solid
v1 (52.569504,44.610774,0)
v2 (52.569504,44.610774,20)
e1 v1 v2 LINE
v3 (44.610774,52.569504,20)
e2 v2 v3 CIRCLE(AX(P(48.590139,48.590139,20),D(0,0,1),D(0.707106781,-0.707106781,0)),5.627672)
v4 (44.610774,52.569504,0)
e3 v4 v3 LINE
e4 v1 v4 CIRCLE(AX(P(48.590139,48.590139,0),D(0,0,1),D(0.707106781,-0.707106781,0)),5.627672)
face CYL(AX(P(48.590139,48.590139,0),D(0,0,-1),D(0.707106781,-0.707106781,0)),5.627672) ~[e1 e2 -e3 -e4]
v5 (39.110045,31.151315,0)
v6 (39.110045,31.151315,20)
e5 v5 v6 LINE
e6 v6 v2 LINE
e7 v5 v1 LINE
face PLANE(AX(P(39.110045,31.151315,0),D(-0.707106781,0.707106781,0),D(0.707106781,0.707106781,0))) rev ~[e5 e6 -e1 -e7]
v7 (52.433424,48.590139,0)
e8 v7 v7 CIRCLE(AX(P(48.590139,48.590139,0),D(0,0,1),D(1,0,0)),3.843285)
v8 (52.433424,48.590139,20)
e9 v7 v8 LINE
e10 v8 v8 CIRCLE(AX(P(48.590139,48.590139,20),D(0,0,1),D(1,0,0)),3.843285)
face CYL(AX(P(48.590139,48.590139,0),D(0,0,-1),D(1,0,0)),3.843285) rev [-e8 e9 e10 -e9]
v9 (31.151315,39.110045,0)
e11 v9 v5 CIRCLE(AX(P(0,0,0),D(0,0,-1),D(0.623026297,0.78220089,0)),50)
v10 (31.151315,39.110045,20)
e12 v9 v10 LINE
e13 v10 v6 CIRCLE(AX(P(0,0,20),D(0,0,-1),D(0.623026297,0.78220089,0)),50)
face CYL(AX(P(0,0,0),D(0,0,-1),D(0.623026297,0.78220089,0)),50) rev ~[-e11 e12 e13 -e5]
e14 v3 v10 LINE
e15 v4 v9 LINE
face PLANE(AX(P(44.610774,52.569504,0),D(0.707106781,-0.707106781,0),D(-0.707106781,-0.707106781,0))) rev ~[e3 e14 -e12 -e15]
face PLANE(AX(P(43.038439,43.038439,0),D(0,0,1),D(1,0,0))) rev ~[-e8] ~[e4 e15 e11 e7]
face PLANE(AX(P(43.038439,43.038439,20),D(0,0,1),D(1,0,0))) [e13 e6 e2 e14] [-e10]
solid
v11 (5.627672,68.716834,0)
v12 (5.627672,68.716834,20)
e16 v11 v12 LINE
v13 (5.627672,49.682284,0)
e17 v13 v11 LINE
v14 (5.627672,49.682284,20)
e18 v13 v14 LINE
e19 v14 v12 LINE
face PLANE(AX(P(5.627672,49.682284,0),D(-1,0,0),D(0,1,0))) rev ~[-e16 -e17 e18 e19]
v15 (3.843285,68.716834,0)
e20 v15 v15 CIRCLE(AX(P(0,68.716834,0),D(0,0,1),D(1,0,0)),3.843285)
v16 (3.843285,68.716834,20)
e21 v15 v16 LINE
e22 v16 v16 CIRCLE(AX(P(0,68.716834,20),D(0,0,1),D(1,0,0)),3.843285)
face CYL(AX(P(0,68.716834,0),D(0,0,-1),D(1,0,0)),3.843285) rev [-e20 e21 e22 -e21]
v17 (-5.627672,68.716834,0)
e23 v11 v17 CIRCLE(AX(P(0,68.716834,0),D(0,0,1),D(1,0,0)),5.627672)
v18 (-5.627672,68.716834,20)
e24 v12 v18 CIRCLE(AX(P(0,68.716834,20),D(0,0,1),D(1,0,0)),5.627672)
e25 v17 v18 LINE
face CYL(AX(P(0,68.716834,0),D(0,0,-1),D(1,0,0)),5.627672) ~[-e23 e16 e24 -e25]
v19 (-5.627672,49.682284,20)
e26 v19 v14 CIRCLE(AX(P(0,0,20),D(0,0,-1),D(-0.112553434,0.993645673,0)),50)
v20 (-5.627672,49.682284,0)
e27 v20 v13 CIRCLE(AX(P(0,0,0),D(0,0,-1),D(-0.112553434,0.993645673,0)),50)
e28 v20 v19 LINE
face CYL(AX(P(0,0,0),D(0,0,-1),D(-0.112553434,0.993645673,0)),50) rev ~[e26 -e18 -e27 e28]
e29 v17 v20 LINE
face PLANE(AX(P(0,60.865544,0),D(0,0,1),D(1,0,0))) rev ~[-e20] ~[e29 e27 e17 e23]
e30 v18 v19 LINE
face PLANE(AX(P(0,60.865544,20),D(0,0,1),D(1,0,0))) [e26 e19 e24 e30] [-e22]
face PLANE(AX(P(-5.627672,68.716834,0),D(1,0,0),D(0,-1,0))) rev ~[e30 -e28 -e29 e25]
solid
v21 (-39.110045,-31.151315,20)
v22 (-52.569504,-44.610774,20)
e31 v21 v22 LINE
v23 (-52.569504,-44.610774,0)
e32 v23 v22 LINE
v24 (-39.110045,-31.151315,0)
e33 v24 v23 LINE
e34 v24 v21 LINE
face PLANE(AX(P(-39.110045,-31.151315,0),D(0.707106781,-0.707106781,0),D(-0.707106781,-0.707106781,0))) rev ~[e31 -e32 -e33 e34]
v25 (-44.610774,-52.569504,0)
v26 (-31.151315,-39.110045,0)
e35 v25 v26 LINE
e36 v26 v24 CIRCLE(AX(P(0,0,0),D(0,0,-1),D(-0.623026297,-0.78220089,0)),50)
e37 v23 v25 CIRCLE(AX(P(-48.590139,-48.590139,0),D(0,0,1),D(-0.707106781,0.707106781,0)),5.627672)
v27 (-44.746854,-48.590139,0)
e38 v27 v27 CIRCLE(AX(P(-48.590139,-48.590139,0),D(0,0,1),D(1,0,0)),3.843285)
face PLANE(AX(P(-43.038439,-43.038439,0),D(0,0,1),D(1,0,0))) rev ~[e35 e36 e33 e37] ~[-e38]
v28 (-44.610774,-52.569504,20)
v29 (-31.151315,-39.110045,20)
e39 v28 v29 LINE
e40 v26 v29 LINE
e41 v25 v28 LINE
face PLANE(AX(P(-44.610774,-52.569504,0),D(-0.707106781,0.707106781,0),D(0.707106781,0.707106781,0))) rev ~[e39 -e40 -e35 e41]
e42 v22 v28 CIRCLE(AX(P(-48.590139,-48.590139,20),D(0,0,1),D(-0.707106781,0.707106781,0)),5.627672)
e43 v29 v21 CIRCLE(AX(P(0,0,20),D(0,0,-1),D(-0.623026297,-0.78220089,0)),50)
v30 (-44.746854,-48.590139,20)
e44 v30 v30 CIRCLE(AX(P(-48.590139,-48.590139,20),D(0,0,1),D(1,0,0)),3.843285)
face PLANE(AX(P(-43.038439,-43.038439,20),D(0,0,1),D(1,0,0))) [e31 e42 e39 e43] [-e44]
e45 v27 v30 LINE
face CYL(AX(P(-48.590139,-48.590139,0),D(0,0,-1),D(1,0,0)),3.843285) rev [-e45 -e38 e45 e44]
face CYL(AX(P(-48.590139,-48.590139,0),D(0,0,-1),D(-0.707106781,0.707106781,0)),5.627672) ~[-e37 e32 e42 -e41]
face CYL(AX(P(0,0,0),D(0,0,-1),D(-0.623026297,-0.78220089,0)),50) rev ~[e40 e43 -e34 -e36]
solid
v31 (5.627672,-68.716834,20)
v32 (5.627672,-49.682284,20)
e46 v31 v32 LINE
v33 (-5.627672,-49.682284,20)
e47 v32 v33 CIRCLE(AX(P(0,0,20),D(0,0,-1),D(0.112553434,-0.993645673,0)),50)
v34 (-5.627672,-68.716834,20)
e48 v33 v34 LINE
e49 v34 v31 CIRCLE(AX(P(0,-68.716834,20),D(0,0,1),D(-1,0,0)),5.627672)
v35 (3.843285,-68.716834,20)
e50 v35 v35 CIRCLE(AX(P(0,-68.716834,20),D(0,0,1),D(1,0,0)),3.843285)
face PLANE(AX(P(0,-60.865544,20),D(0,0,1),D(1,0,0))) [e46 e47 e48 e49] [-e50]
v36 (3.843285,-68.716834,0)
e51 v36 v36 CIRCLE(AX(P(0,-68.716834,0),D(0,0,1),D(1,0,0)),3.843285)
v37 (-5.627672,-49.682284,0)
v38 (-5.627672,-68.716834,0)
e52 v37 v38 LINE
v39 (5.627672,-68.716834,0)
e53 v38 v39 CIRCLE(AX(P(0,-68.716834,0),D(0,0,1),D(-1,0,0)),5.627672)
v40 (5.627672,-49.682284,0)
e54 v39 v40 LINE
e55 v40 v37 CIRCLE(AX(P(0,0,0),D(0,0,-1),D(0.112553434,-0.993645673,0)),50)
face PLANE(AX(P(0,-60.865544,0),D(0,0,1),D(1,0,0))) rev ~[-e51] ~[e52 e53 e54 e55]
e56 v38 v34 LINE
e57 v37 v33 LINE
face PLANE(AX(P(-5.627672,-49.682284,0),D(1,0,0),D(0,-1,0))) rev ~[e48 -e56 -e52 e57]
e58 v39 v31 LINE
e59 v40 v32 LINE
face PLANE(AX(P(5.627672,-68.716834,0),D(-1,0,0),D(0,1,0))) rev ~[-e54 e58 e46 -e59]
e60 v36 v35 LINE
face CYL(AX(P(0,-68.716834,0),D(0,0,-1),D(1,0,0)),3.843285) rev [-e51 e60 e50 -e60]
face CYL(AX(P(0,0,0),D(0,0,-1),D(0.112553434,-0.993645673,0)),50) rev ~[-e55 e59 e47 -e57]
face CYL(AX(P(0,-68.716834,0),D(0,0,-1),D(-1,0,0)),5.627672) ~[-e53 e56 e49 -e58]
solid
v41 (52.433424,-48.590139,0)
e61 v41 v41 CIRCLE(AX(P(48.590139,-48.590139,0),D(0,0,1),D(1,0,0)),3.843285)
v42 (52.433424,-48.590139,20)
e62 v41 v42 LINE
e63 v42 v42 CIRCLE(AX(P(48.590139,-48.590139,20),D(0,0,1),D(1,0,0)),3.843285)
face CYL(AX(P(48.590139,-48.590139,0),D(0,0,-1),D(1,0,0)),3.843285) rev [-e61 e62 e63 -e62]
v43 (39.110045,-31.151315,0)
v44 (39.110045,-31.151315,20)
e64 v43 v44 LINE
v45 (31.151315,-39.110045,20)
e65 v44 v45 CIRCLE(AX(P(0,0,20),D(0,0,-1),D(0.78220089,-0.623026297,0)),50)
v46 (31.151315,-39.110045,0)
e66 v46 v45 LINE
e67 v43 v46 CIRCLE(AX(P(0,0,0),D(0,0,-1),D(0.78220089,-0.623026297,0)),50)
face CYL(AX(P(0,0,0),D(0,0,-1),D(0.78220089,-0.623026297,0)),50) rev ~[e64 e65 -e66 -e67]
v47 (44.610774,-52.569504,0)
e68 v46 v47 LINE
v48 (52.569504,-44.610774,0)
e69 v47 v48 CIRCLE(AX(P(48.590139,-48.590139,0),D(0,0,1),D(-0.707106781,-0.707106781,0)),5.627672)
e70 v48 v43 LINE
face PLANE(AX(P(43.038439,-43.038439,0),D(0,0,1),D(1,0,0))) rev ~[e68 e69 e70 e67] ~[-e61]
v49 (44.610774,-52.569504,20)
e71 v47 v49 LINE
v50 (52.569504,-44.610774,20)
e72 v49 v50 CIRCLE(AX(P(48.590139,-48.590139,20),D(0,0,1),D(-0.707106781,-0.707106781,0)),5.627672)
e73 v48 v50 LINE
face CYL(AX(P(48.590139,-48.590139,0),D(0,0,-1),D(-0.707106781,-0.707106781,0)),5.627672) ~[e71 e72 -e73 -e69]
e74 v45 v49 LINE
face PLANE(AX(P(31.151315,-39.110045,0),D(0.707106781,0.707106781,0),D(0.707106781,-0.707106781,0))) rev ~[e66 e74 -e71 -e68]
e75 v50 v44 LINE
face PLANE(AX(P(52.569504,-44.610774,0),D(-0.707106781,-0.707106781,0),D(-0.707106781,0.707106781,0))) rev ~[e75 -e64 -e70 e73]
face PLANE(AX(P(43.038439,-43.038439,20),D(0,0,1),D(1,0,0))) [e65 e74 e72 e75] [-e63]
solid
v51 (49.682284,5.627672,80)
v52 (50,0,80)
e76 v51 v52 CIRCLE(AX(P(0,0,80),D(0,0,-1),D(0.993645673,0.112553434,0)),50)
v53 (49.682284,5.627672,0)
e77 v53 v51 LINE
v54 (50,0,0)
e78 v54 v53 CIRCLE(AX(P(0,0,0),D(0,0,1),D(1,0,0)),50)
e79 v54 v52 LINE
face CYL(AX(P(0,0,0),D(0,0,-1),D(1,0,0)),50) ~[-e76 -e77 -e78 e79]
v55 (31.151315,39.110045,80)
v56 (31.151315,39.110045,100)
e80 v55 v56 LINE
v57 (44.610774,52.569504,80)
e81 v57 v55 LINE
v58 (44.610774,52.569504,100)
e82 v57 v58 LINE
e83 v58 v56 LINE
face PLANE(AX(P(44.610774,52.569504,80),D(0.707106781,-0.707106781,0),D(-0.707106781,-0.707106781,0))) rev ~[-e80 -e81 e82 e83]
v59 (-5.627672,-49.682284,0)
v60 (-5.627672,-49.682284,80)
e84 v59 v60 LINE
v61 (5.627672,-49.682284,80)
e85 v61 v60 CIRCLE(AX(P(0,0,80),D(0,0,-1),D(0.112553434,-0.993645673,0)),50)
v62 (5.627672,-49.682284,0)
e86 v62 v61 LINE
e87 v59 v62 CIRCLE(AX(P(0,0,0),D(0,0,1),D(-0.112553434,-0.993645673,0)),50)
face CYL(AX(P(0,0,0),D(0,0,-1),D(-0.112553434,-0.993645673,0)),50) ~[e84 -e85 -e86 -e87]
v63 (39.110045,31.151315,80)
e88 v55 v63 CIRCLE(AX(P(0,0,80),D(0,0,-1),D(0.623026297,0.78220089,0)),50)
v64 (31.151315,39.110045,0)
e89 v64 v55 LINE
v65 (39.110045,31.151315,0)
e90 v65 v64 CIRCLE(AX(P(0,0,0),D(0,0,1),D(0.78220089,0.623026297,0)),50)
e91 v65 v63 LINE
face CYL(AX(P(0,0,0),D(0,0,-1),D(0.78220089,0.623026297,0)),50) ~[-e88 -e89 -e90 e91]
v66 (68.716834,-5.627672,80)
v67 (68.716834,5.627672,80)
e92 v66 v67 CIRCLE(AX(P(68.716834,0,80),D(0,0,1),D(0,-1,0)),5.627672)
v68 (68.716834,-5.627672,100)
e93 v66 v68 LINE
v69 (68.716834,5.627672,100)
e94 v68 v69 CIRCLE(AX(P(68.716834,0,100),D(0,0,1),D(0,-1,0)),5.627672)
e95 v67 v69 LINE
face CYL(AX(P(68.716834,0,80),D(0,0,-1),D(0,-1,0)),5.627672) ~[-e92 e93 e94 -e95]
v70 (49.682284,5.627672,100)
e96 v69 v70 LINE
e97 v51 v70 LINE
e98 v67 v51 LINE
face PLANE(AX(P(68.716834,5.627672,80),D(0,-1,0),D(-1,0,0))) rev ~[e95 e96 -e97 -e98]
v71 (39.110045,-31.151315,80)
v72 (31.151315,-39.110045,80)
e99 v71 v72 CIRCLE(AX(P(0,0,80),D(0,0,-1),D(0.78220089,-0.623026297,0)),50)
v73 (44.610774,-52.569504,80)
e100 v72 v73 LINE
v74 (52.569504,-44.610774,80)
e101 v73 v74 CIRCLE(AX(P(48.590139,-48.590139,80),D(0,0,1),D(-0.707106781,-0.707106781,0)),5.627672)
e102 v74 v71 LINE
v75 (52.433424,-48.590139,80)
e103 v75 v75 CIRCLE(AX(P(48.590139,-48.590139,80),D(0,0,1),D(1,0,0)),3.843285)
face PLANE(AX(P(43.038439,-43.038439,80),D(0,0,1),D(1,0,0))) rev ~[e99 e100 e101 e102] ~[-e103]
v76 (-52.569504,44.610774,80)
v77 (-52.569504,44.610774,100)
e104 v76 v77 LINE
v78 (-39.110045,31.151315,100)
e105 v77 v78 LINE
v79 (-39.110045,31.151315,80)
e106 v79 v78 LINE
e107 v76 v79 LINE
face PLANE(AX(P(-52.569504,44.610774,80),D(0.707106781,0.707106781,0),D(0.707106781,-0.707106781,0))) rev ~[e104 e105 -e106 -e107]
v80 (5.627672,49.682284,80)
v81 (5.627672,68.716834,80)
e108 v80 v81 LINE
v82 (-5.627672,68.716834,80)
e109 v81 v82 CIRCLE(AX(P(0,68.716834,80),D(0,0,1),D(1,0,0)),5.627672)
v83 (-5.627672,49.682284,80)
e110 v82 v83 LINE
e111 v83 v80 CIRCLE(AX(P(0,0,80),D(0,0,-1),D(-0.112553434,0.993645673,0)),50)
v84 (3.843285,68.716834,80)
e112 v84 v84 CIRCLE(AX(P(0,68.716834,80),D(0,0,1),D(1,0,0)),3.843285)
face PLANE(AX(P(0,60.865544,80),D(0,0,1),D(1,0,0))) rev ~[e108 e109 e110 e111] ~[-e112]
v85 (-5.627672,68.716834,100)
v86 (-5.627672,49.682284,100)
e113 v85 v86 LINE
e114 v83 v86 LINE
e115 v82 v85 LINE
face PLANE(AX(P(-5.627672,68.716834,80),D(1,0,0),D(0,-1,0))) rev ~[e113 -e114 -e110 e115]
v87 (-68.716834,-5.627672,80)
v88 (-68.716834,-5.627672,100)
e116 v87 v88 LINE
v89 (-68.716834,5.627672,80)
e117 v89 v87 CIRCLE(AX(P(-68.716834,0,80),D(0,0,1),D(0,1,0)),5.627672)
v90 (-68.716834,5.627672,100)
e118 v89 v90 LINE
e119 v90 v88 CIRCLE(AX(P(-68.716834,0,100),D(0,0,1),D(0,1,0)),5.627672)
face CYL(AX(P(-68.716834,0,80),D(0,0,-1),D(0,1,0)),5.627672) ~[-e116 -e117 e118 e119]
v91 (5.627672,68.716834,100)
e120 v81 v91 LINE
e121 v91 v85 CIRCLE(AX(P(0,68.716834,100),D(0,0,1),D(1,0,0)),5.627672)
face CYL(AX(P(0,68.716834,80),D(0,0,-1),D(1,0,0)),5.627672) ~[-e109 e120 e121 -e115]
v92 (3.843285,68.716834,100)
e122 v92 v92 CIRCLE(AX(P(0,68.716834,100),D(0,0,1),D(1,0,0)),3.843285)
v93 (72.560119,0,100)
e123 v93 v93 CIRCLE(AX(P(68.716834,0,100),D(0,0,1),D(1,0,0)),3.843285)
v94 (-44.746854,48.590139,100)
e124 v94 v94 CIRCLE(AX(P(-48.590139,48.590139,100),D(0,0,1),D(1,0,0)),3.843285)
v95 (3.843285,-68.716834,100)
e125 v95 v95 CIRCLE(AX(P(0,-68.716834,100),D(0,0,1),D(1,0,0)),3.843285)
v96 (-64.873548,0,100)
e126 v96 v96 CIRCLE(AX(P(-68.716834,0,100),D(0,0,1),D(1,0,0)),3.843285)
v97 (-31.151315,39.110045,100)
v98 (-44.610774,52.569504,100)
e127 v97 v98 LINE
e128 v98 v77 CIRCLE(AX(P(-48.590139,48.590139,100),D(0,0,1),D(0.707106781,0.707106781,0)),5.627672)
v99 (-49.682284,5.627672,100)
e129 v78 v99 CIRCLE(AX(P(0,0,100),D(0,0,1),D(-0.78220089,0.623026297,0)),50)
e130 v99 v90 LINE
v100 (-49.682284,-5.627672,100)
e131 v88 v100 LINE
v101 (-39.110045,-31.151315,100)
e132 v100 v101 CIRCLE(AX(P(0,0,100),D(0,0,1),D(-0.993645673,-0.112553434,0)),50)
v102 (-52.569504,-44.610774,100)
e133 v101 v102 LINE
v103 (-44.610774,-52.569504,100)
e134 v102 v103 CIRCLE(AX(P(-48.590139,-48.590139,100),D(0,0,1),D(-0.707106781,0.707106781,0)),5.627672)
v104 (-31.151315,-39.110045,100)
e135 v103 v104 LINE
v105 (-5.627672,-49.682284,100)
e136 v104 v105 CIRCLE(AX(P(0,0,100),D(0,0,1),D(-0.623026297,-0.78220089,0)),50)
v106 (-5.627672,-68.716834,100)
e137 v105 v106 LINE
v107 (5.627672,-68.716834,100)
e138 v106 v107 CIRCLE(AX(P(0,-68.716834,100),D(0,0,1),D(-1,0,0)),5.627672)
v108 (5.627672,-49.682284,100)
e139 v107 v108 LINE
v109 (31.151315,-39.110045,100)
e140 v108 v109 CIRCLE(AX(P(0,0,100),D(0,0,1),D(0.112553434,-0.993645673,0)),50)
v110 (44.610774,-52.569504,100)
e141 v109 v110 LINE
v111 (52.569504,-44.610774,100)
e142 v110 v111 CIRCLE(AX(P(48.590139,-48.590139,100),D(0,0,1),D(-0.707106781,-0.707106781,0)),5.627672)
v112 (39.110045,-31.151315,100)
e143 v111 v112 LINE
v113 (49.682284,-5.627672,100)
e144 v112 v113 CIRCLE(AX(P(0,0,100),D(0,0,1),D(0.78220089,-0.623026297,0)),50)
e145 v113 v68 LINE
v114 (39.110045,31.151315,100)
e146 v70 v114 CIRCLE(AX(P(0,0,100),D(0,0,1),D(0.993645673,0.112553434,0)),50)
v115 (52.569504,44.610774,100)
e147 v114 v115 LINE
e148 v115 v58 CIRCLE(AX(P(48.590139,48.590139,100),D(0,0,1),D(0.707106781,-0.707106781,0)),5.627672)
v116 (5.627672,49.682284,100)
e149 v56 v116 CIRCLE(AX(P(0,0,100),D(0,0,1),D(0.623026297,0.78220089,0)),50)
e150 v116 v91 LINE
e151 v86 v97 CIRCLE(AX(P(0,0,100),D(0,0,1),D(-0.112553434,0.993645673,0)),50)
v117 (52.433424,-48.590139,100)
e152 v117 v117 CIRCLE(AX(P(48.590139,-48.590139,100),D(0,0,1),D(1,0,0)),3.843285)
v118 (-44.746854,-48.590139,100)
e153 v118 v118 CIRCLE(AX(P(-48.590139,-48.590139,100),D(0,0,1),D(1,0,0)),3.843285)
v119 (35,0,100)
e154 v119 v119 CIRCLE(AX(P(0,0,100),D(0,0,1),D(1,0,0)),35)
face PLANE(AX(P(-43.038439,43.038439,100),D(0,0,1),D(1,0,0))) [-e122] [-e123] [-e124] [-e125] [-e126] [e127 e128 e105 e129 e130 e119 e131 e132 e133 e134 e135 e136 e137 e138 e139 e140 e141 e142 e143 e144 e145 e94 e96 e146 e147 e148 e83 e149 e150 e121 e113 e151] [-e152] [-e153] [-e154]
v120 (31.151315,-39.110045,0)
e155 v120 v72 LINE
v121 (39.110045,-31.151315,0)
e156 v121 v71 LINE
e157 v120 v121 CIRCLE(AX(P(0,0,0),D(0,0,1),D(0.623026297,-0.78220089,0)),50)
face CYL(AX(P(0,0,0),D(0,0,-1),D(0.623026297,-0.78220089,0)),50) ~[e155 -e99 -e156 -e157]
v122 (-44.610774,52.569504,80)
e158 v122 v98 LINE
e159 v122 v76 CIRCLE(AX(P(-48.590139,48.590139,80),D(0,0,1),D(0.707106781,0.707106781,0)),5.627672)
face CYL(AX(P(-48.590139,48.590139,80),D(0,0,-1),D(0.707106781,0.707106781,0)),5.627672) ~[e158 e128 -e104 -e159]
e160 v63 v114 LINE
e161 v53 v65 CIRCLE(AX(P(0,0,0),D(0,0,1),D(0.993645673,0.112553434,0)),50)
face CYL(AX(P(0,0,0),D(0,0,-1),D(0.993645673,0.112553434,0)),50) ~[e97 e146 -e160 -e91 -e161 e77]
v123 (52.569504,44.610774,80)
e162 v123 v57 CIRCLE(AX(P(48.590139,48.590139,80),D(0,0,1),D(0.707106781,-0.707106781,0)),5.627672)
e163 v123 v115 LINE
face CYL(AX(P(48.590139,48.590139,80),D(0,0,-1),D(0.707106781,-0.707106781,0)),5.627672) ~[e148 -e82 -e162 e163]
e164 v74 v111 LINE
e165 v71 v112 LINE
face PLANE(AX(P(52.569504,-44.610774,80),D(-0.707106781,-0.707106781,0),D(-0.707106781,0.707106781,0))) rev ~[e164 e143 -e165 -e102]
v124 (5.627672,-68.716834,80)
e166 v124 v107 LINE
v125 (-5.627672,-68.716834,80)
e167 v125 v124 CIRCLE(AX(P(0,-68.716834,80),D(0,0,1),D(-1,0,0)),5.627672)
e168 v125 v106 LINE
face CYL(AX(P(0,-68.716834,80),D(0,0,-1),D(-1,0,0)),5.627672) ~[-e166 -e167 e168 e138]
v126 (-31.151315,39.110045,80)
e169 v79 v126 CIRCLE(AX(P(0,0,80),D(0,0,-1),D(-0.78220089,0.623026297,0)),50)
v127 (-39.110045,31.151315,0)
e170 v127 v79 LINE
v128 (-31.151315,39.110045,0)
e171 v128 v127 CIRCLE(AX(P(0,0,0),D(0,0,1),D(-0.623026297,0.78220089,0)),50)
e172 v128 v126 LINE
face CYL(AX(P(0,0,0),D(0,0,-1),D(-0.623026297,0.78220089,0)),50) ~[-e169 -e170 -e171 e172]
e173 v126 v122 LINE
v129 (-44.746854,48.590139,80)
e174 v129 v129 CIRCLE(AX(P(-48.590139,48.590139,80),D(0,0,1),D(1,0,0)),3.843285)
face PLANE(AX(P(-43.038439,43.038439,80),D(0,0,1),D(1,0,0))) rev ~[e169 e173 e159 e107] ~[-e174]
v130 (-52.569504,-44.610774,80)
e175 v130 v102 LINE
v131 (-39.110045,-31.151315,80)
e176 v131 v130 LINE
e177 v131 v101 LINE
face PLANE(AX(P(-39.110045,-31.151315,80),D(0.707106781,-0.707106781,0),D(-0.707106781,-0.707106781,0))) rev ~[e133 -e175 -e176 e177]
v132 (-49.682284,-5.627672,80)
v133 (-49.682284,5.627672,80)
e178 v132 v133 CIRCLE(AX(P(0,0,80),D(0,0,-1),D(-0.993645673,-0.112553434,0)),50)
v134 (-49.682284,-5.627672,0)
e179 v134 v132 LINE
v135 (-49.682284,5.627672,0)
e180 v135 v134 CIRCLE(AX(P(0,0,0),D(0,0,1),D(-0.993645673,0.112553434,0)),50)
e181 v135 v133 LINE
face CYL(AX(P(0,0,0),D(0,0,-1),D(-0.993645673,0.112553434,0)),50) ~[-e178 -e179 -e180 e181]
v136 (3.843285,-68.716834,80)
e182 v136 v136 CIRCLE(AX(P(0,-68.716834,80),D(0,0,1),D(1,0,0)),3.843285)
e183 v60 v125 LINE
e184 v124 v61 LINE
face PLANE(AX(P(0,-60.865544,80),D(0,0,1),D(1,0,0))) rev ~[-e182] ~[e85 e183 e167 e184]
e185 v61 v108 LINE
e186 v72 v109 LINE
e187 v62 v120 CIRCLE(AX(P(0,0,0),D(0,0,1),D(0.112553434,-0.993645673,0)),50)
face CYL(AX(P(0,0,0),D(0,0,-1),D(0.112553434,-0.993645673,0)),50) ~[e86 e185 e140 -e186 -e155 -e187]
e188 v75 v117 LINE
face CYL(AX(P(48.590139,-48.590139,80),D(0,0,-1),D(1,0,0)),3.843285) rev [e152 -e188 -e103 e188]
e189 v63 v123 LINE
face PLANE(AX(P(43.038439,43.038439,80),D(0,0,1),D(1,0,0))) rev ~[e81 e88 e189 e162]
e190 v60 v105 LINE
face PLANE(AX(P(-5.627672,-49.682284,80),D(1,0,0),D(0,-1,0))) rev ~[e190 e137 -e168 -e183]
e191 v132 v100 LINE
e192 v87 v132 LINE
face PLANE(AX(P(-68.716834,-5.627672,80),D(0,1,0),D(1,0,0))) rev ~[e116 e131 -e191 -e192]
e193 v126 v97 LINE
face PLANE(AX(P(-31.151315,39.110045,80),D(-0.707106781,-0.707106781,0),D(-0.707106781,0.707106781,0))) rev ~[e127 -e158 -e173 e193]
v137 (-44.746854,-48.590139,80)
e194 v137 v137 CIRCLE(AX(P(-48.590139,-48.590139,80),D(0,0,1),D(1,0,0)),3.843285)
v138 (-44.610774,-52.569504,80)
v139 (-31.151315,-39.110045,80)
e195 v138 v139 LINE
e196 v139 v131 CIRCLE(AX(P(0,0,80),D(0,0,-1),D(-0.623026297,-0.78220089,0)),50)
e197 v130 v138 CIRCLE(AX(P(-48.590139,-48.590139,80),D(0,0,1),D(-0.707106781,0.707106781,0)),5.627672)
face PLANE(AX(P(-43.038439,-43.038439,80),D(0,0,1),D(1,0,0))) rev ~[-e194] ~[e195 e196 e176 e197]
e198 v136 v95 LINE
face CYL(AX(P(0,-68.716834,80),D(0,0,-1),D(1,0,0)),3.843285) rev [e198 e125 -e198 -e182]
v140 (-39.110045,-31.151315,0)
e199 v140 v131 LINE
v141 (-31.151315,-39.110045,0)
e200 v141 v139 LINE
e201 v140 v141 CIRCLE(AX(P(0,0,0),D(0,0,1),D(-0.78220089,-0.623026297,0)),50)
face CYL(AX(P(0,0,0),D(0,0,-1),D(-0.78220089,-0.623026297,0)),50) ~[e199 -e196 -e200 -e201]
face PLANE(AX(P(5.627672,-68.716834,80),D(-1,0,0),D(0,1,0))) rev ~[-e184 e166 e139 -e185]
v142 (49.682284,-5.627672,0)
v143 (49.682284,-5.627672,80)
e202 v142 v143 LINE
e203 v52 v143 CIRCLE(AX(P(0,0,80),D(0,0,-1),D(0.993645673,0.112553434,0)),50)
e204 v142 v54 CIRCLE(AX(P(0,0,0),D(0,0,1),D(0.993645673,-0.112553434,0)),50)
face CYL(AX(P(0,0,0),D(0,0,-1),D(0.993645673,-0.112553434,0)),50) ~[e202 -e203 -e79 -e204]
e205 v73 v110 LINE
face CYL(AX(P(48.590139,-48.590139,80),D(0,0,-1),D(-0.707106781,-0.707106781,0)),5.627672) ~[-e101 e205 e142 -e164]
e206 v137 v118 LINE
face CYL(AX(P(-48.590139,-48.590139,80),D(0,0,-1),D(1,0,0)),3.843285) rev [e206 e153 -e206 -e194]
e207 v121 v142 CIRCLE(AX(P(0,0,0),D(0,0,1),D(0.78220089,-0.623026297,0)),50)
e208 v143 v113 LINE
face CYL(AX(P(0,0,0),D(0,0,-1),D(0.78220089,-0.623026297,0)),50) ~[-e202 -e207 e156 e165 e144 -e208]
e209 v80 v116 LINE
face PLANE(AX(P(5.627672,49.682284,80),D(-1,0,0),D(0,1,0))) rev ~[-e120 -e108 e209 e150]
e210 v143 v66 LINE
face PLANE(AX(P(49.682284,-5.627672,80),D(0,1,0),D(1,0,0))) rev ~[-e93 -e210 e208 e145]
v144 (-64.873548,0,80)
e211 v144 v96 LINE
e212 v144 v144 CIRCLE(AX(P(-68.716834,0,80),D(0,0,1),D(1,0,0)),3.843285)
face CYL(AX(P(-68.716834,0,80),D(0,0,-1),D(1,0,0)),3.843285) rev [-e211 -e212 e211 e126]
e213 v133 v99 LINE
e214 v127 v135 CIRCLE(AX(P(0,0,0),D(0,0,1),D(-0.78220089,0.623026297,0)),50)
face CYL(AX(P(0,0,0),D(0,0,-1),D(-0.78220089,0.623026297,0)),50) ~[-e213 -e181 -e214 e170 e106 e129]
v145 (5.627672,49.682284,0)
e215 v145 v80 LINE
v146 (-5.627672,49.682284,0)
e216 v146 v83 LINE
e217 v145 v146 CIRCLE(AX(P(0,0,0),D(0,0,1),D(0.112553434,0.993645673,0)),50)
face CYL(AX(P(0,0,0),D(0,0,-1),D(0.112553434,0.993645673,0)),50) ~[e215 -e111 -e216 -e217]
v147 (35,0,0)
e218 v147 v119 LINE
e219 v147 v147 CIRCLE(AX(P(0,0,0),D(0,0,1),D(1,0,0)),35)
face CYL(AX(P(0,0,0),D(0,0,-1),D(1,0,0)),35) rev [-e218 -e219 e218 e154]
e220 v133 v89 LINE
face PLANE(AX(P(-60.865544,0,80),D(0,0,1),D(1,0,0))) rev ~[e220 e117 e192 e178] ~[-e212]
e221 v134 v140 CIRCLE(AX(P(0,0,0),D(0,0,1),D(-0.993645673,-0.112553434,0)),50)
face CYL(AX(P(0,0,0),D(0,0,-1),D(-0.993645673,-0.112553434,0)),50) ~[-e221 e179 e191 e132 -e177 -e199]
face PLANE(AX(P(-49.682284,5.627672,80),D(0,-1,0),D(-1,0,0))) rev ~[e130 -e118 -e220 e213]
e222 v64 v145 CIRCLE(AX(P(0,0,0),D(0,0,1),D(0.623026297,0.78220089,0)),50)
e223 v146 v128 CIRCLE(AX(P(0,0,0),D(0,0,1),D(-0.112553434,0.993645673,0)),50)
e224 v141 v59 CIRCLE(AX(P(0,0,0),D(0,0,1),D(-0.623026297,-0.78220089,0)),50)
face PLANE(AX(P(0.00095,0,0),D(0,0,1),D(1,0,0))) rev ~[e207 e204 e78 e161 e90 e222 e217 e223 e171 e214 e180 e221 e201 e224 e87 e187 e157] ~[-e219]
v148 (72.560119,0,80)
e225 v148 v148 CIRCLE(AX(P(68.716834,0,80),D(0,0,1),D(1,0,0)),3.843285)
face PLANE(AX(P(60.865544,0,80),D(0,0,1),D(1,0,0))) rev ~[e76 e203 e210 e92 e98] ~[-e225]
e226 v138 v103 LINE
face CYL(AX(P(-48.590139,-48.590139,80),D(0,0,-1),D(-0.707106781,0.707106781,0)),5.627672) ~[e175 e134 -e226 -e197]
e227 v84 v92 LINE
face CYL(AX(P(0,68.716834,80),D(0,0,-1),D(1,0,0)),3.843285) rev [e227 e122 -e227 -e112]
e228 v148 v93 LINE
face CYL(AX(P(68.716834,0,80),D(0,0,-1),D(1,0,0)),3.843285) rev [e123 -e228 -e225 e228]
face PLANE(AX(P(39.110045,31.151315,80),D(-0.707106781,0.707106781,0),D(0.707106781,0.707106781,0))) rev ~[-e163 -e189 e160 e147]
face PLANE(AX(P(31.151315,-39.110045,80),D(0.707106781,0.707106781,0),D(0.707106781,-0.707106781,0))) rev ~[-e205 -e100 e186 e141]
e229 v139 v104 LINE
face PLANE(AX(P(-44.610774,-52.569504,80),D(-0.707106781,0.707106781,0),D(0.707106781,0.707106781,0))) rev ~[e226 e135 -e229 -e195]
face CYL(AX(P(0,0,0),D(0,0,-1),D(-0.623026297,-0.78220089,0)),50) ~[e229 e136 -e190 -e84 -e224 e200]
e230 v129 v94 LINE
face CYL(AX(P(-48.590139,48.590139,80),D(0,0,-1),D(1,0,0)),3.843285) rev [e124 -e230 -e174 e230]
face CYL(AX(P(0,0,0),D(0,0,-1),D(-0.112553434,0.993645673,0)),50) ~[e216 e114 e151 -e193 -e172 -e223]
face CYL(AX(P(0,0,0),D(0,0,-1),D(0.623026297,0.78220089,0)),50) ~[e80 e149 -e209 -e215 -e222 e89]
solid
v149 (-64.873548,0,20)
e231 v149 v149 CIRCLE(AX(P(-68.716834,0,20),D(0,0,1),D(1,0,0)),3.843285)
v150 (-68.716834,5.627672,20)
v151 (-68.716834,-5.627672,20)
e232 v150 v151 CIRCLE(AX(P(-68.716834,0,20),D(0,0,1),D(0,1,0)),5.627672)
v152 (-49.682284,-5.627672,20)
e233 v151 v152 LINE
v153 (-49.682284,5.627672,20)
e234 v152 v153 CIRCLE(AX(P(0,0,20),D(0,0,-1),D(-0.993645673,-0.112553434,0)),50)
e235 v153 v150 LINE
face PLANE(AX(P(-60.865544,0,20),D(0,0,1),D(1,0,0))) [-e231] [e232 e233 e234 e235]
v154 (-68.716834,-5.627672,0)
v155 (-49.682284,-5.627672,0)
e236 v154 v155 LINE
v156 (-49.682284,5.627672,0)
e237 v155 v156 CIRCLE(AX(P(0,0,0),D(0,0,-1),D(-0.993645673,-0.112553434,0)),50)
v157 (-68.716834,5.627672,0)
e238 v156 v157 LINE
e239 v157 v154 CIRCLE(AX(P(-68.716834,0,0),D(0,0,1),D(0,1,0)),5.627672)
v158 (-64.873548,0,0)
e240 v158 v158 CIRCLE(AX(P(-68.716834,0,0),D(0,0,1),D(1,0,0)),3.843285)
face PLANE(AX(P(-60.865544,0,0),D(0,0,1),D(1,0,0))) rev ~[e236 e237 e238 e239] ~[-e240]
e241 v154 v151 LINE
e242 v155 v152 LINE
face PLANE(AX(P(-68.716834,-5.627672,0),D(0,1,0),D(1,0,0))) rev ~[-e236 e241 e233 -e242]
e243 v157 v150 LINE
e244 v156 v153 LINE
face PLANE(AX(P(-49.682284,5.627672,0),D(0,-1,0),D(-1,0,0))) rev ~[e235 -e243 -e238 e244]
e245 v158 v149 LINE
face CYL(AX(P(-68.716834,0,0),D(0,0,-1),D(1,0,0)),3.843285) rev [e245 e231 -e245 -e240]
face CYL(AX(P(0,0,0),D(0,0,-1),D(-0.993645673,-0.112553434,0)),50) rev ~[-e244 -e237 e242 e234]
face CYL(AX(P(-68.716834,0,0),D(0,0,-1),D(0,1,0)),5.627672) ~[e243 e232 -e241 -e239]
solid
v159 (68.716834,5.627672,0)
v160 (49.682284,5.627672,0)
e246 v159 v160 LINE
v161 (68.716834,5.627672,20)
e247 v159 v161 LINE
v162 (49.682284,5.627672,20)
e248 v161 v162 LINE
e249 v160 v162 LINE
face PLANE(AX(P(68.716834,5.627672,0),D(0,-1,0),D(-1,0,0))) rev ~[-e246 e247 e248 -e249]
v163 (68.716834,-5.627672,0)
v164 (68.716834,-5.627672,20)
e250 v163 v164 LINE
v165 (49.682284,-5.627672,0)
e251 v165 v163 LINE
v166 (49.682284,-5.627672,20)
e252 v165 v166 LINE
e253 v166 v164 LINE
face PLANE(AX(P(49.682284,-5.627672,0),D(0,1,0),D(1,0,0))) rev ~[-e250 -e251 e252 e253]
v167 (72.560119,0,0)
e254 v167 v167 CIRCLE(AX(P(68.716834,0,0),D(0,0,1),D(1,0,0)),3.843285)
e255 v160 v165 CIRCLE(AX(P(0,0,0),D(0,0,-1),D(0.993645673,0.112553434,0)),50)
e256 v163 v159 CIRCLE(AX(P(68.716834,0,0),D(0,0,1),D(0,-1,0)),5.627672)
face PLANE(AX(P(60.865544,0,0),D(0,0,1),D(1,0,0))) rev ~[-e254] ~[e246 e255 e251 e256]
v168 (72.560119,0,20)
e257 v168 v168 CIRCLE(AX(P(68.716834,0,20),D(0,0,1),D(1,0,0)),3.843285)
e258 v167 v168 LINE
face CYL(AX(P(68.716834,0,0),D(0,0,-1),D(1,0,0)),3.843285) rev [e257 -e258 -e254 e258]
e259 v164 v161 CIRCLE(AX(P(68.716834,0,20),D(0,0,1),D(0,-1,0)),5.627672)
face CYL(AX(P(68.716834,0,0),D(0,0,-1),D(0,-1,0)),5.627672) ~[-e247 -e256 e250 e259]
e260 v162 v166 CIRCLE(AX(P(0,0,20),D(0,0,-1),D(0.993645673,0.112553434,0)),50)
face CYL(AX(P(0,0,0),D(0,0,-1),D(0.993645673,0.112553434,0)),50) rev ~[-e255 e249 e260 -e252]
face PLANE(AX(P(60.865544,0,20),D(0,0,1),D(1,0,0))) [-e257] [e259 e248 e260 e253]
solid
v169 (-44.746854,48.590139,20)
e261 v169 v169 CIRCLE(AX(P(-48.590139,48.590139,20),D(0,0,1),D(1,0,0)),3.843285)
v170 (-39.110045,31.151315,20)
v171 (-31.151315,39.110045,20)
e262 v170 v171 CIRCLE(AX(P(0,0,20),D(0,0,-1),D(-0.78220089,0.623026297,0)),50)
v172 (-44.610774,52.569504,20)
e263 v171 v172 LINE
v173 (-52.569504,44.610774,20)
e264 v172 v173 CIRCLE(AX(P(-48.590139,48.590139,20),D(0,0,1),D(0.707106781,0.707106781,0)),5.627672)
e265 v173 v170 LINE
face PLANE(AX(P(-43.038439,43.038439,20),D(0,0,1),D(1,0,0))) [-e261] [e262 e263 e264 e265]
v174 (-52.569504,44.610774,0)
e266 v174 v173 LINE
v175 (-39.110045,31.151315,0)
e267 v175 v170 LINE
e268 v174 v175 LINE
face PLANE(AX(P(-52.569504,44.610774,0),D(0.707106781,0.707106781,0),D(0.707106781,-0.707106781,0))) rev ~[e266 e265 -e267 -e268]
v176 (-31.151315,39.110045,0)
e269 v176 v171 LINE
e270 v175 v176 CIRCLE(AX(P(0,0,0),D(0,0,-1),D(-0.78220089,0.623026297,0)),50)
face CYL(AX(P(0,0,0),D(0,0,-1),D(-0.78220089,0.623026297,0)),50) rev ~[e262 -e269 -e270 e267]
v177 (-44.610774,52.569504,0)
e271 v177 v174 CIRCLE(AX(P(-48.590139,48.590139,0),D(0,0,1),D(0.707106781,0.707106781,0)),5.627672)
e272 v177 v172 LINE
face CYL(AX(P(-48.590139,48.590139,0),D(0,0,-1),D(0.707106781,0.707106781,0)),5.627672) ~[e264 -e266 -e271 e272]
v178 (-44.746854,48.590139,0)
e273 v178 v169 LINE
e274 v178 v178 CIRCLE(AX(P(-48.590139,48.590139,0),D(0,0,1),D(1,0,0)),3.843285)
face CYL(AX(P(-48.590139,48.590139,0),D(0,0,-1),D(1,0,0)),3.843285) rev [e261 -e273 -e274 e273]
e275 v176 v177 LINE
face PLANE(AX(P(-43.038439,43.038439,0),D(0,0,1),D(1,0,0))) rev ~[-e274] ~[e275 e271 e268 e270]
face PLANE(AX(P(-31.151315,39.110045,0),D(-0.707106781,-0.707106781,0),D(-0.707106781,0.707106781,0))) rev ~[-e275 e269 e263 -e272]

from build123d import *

# Parameters (mm, degrees)
SKETCH1_R             = 35
BOSS_EXTRUDE1_DEPTH   = 100
SKETCH1_5_R           = 3.843285091
BOSS_EXTRUDE5_DEPTH   = 20
BOSS_EXTRUDE5_2_DEPTH = 20
BOSS_EXTRUDE5_3_DEPTH = 20
BOSS_EXTRUDE5_4_DEPTH = 20
BOSS_EXTRUDE5_5_DEPTH = 20
BOSS_EXTRUDE5_6_DEPTH = 20
BOSS_EXTRUDE5_7_DEPTH = 20
BOSS_EXTRUDE5_8_DEPTH = 20
BOSS_EXTRUDE6_START   = -20
SKETCH2_R             = 3.843285091
BOSS_EXTRUDE6_DEPTH   = 20


with BuildPart() as part:
    # Sketch1 → Boss-Extrude1 (new body)
    with BuildSketch(Plane.XY):
        with BuildLine():
            ThreePointArc((50, 0), (49.920507728, 2.818316545), (49.682283674, 5.627671714))
            ThreePointArc((49.682283674, 5.627671714), (46.193976626, 19.134171618), (39.110044522, 31.15131486))
            ThreePointArc((39.110044522, 31.15131486), (35.355339059, 35.355339059), (31.15131486, 39.110044522))
            ThreePointArc((31.15131486, 39.110044522), (19.134171618, 46.193976626), (5.627671714, 49.682283674))
            ThreePointArc((5.627671714, 49.682283674), (0, 50), (-5.627671714, 49.682283674))
            ThreePointArc((-5.627671714, 49.682283674), (-19.134171618, 46.193976626), (-31.15131486, 39.110044522))
            ThreePointArc((-31.15131486, 39.110044522), (-35.355339059, 35.355339059), (-39.110044522, 31.15131486))
            ThreePointArc((-39.110044522, 31.15131486), (-46.193976626, 19.134171618), (-49.682283674, 5.627671714))
            ThreePointArc((-49.682283674, 5.627671714), (-50, 0), (-49.682283674, -5.627671714))
            ThreePointArc((-49.682283674, -5.627671714), (-46.193976626, -19.134171618), (-39.110044522, -31.15131486))
            ThreePointArc((-39.110044522, -31.15131486), (-35.355339059, -35.355339059), (-31.15131486, -39.110044522))
            ThreePointArc((-31.15131486, -39.110044522), (-19.134171618, -46.193976626), (-5.627671714, -49.682283674))
            ThreePointArc((-5.627671714, -49.682283674), (0, -50), (5.627671714, -49.682283674))
            ThreePointArc((5.627671714, -49.682283674), (19.134171618, -46.193976626), (31.15131486, -39.110044522))
            ThreePointArc((31.15131486, -39.110044522), (35.355339059, -35.355339059), (39.110044522, -31.15131486))
            ThreePointArc((39.110044522, -31.15131486), (46.193976626, -19.134171618), (49.682283674, -5.627671714))
            ThreePointArc((49.682283674, -5.627671714), (49.920507728, -2.818316545), (50, 0))
        make_face()
        Circle(SKETCH1_R, mode=Mode.SUBTRACT)
    extrude(amount=BOSS_EXTRUDE1_DEPTH)

    # Sketch2 → Boss-Extrude6 (add)
    # profile 1 of 8: a face of its own
    with BuildSketch(Plane.XY.offset(100).offset(BOSS_EXTRUDE6_START)):
        with BuildLine():
            ThreePointArc((-39.110044522, 31.15131486), (-35.355339059, 35.355339059), (-31.15131486, 39.110044522))
            Line((-31.15131486, 39.110044522), (-44.61077416, 52.569503822))
            ThreePointArc((-44.61077416, 52.569503822), (-52.569503822, 52.569503822), (-52.569503822, 44.61077416))
            Line((-52.569503822, 44.61077416), (-39.110044522, 31.15131486))
        make_face()
        with Locations((-48.590138991, 48.590138991)):
            Circle(SKETCH2_R, mode=Mode.SUBTRACT)
    # profile 2 of 8: a face of its own
    with BuildSketch(Plane.XY.offset(100).offset(BOSS_EXTRUDE6_START)):
        with BuildLine():
            Line((-5.627671714, 68.716833559), (-5.627671714, 49.682283674))
            ThreePointArc((-5.627671714, 49.682283674), (0, 50), (5.627671714, 49.682283674))
            Line((5.627671714, 49.682283674), (5.627671714, 68.716833559))
            ThreePointArc((5.627671714, 68.716833559), (0, 74.344505272), (-5.627671714, 68.716833559))
        make_face()
        with Locations((0, 68.716833559)):
            Circle(SKETCH2_R, mode=Mode.SUBTRACT)
    # profile 3 of 8: a face of its own
    with BuildSketch(Plane.XY.offset(100).offset(BOSS_EXTRUDE6_START)):
        with BuildLine():
            ThreePointArc((-49.682283674, -5.627671714), (-50, 0), (-49.682283674, 5.627671714))
            Line((-49.682283674, 5.627671714), (-68.716833559, 5.627671714))
            ThreePointArc((-68.716833559, 5.627671714), (-74.344505272, 0), (-68.716833559, -5.627671714))
            Line((-68.716833559, -5.627671714), (-49.682283674, -5.627671714))
        make_face()
        with Locations((-68.716833559, 0)):
            Circle(SKETCH2_R, mode=Mode.SUBTRACT)
    # profile 4 of 8: a face of its own
    with BuildSketch(Plane.XY.offset(100).offset(BOSS_EXTRUDE6_START)):
        with BuildLine():
            Line((44.61077416, 52.569503822), (31.15131486, 39.110044522))
            ThreePointArc((31.15131486, 39.110044522), (35.355339059, 35.355339059), (39.110044522, 31.15131486))
            Line((39.110044522, 31.15131486), (52.569503822, 44.61077416))
            ThreePointArc((52.569503822, 44.61077416), (52.569503822, 52.569503822), (44.61077416, 52.569503822))
        make_face()
    # profile 5 of 8: a face of its own
    with BuildSketch(Plane.XY.offset(100).offset(BOSS_EXTRUDE6_START)):
        with BuildLine():
            ThreePointArc((-31.15131486, -39.110044522), (-35.355339059, -35.355339059), (-39.110044522, -31.15131486))
            Line((-39.110044522, -31.15131486), (-52.569503822, -44.61077416))
            ThreePointArc((-52.569503822, -44.61077416), (-52.569503822, -52.569503822), (-44.61077416, -52.569503822))
            Line((-44.61077416, -52.569503822), (-31.15131486, -39.110044522))
        make_face()
        with Locations((-48.590138991, -48.590138991)):
            Circle(SKETCH2_R, mode=Mode.SUBTRACT)
    # profile 6 of 8: a face of its own
    with BuildSketch(Plane.XY.offset(100).offset(BOSS_EXTRUDE6_START)):
        with BuildLine():
            Line((68.716833559, 5.627671714), (49.682283674, 5.627671714))
            ThreePointArc((49.682283674, 5.627671714), (50, 0), (49.682283674, -5.627671714))
            Line((49.682283674, -5.627671714), (68.716833559, -5.627671714))
            ThreePointArc((68.716833559, -5.627671714), (74.344505272, 0), (68.716833559, 5.627671714))
        make_face()
        with Locations((68.716833559, 0)):
            Circle(SKETCH2_R, mode=Mode.SUBTRACT)
    # profile 7 of 8: a face of its own
    with BuildSketch(Plane.XY.offset(100).offset(BOSS_EXTRUDE6_START)):
        with BuildLine():
            ThreePointArc((5.627671714, -49.682283674), (0, -50), (-5.627671714, -49.682283674))
            Line((-5.627671714, -49.682283674), (-5.627671714, -68.716833559))
            ThreePointArc((-5.627671714, -68.716833559), (0, -74.344505272), (5.627671714, -68.716833559))
            Line((5.627671714, -68.716833559), (5.627671714, -49.682283674))
        make_face()
        with Locations((0, -68.716833559)):
            Circle(SKETCH2_R, mode=Mode.SUBTRACT)
    # profile 8 of 8: a face of its own
    with BuildSketch(Plane.XY.offset(100).offset(BOSS_EXTRUDE6_START)):
        with BuildLine():
            ThreePointArc((39.110044522, -31.15131486), (35.355339059, -35.355339059), (31.15131486, -39.110044522))
            Line((31.15131486, -39.110044522), (44.61077416, -52.569503822))
            ThreePointArc((44.61077416, -52.569503822), (52.569503822, -52.569503822), (52.569503822, -44.61077416))
            Line((52.569503822, -44.61077416), (39.110044522, -31.15131486))
        make_face()
        with Locations((48.590138991, -48.590138991)):
            Circle(SKETCH2_R, mode=Mode.SUBTRACT)
    extrude(amount=BOSS_EXTRUDE6_DEPTH)


with BuildPart() as body_2:
    # Sketch1<5> → Boss-Extrude5 (new body)
    with BuildSketch(Plane.XY):
        with BuildLine():
            Line((68.716833559, 5.627671714), (49.682283674, 5.627671714))
            ThreePointArc((49.682283674, 5.627671714), (50, 0), (49.682283674, -5.627671714))
            Line((49.682283674, -5.627671714), (68.716833559, -5.627671714))
            ThreePointArc((68.716833559, -5.627671714), (74.344505272, 0), (68.716833559, 5.627671714))
        make_face()
        with Locations((68.716833559, 0)):
            Circle(SKETCH1_5_R, mode=Mode.SUBTRACT)
    extrude(amount=BOSS_EXTRUDE5_DEPTH)


with BuildPart() as body_3:
    # Sketch1<5> → Boss-Extrude5 2 (new body)
    with BuildSketch(Plane.XY):
        with BuildLine():
            ThreePointArc((31.15131486, 39.110044522), (35.355339059, 35.355339059), (39.110044522, 31.15131486))
            Line((39.110044522, 31.15131486), (52.569503822, 44.61077416))
            ThreePointArc((52.569503822, 44.61077416), (52.569503822, 52.569503822), (44.61077416, 52.569503822))
            Line((44.61077416, 52.569503822), (31.15131486, 39.110044522))
        make_face()
        with Locations((48.590138991, 48.590138991)):
            Circle(SKETCH1_5_R, mode=Mode.SUBTRACT)
    extrude(amount=BOSS_EXTRUDE5_2_DEPTH)


with BuildPart() as body_4:
    # Sketch1<5> → Boss-Extrude5 3 (new body)
    with BuildSketch(Plane.XY):
        with BuildLine():
            Line((52.569503822, -44.61077416), (39.110044522, -31.15131486))
            ThreePointArc((39.110044522, -31.15131486), (35.355339059, -35.355339059), (31.15131486, -39.110044522))
            Line((31.15131486, -39.110044522), (44.61077416, -52.569503822))
            ThreePointArc((44.61077416, -52.569503822), (52.569503822, -52.569503822), (52.569503822, -44.61077416))
        make_face()
        with Locations((48.590138991, -48.590138991)):
            Circle(SKETCH1_5_R, mode=Mode.SUBTRACT)
    extrude(amount=BOSS_EXTRUDE5_3_DEPTH)


with BuildPart() as body_5:
    # Sketch1<5> → Boss-Extrude5 4 (new body)
    with BuildSketch(Plane.XY):
        with BuildLine():
            ThreePointArc((-5.627671714, 49.682283674), (0, 50), (5.627671714, 49.682283674))
            Line((5.627671714, 49.682283674), (5.627671714, 68.716833559))
            ThreePointArc((5.627671714, 68.716833559), (0, 74.344505272), (-5.627671714, 68.716833559))
            Line((-5.627671714, 68.716833559), (-5.627671714, 49.682283674))
        make_face()
        with Locations((0, 68.716833559)):
            Circle(SKETCH1_5_R, mode=Mode.SUBTRACT)
    extrude(amount=BOSS_EXTRUDE5_4_DEPTH)


with BuildPart() as body_6:
    # Sketch1<5> → Boss-Extrude5 5 (new body)
    with BuildSketch(Plane.XY):
        with BuildLine():
            Line((5.627671714, -68.716833559), (5.627671714, -49.682283674))
            ThreePointArc((5.627671714, -49.682283674), (0, -50), (-5.627671714, -49.682283674))
            Line((-5.627671714, -49.682283674), (-5.627671714, -68.716833559))
            ThreePointArc((-5.627671714, -68.716833559), (0, -74.344505272), (5.627671714, -68.716833559))
        make_face()
        with Locations((0, -68.716833559)):
            Circle(SKETCH1_5_R, mode=Mode.SUBTRACT)
    extrude(amount=BOSS_EXTRUDE5_5_DEPTH)


with BuildPart() as body_7:
    # Sketch1<5> → Boss-Extrude5 6 (new body)
    with BuildSketch(Plane.XY):
        with BuildLine():
            ThreePointArc((-39.110044522, 31.15131486), (-35.355339059, 35.355339059), (-31.15131486, 39.110044522))
            Line((-31.15131486, 39.110044522), (-44.61077416, 52.569503822))
            ThreePointArc((-44.61077416, 52.569503822), (-52.569503822, 52.569503822), (-52.569503822, 44.61077416))
            Line((-52.569503822, 44.61077416), (-39.110044522, 31.15131486))
        make_face()
        with Locations((-48.590138991, 48.590138991)):
            Circle(SKETCH1_5_R, mode=Mode.SUBTRACT)
    extrude(amount=BOSS_EXTRUDE5_6_DEPTH)


with BuildPart() as body_8:
    # Sketch1<5> → Boss-Extrude5 7 (new body)
    with BuildSketch(Plane.XY):
        with BuildLine():
            Line((-44.61077416, -52.569503822), (-31.15131486, -39.110044522))
            ThreePointArc((-31.15131486, -39.110044522), (-35.355339059, -35.355339059), (-39.110044522, -31.15131486))
            Line((-39.110044522, -31.15131486), (-52.569503822, -44.61077416))
            ThreePointArc((-52.569503822, -44.61077416), (-52.569503822, -52.569503822), (-44.61077416, -52.569503822))
        make_face()
        with Locations((-48.590138991, -48.590138991)):
            Circle(SKETCH1_5_R, mode=Mode.SUBTRACT)
    extrude(amount=BOSS_EXTRUDE5_7_DEPTH)


with BuildPart() as body_9:
    # Sketch1<5> → Boss-Extrude5 8 (new body)
    with BuildSketch(Plane.XY):
        with BuildLine():
            ThreePointArc((-49.682283674, -5.627671714), (-50, 0), (-49.682283674, 5.627671714))
            Line((-49.682283674, 5.627671714), (-68.716833559, 5.627671714))
            ThreePointArc((-68.716833559, 5.627671714), (-74.344505272, 0), (-68.716833559, -5.627671714))
            Line((-68.716833559, -5.627671714), (-49.682283674, -5.627671714))
        make_face()
        with Locations((-68.716833559, 0)):
            Circle(SKETCH1_5_R, mode=Mode.SUBTRACT)
    extrude(amount=BOSS_EXTRUDE5_8_DEPTH)


solid = Compound([part.part, body_2.part, body_3.part, body_4.part, body_5.part, body_6.part, body_7.part, body_8.part, body_9.part])
